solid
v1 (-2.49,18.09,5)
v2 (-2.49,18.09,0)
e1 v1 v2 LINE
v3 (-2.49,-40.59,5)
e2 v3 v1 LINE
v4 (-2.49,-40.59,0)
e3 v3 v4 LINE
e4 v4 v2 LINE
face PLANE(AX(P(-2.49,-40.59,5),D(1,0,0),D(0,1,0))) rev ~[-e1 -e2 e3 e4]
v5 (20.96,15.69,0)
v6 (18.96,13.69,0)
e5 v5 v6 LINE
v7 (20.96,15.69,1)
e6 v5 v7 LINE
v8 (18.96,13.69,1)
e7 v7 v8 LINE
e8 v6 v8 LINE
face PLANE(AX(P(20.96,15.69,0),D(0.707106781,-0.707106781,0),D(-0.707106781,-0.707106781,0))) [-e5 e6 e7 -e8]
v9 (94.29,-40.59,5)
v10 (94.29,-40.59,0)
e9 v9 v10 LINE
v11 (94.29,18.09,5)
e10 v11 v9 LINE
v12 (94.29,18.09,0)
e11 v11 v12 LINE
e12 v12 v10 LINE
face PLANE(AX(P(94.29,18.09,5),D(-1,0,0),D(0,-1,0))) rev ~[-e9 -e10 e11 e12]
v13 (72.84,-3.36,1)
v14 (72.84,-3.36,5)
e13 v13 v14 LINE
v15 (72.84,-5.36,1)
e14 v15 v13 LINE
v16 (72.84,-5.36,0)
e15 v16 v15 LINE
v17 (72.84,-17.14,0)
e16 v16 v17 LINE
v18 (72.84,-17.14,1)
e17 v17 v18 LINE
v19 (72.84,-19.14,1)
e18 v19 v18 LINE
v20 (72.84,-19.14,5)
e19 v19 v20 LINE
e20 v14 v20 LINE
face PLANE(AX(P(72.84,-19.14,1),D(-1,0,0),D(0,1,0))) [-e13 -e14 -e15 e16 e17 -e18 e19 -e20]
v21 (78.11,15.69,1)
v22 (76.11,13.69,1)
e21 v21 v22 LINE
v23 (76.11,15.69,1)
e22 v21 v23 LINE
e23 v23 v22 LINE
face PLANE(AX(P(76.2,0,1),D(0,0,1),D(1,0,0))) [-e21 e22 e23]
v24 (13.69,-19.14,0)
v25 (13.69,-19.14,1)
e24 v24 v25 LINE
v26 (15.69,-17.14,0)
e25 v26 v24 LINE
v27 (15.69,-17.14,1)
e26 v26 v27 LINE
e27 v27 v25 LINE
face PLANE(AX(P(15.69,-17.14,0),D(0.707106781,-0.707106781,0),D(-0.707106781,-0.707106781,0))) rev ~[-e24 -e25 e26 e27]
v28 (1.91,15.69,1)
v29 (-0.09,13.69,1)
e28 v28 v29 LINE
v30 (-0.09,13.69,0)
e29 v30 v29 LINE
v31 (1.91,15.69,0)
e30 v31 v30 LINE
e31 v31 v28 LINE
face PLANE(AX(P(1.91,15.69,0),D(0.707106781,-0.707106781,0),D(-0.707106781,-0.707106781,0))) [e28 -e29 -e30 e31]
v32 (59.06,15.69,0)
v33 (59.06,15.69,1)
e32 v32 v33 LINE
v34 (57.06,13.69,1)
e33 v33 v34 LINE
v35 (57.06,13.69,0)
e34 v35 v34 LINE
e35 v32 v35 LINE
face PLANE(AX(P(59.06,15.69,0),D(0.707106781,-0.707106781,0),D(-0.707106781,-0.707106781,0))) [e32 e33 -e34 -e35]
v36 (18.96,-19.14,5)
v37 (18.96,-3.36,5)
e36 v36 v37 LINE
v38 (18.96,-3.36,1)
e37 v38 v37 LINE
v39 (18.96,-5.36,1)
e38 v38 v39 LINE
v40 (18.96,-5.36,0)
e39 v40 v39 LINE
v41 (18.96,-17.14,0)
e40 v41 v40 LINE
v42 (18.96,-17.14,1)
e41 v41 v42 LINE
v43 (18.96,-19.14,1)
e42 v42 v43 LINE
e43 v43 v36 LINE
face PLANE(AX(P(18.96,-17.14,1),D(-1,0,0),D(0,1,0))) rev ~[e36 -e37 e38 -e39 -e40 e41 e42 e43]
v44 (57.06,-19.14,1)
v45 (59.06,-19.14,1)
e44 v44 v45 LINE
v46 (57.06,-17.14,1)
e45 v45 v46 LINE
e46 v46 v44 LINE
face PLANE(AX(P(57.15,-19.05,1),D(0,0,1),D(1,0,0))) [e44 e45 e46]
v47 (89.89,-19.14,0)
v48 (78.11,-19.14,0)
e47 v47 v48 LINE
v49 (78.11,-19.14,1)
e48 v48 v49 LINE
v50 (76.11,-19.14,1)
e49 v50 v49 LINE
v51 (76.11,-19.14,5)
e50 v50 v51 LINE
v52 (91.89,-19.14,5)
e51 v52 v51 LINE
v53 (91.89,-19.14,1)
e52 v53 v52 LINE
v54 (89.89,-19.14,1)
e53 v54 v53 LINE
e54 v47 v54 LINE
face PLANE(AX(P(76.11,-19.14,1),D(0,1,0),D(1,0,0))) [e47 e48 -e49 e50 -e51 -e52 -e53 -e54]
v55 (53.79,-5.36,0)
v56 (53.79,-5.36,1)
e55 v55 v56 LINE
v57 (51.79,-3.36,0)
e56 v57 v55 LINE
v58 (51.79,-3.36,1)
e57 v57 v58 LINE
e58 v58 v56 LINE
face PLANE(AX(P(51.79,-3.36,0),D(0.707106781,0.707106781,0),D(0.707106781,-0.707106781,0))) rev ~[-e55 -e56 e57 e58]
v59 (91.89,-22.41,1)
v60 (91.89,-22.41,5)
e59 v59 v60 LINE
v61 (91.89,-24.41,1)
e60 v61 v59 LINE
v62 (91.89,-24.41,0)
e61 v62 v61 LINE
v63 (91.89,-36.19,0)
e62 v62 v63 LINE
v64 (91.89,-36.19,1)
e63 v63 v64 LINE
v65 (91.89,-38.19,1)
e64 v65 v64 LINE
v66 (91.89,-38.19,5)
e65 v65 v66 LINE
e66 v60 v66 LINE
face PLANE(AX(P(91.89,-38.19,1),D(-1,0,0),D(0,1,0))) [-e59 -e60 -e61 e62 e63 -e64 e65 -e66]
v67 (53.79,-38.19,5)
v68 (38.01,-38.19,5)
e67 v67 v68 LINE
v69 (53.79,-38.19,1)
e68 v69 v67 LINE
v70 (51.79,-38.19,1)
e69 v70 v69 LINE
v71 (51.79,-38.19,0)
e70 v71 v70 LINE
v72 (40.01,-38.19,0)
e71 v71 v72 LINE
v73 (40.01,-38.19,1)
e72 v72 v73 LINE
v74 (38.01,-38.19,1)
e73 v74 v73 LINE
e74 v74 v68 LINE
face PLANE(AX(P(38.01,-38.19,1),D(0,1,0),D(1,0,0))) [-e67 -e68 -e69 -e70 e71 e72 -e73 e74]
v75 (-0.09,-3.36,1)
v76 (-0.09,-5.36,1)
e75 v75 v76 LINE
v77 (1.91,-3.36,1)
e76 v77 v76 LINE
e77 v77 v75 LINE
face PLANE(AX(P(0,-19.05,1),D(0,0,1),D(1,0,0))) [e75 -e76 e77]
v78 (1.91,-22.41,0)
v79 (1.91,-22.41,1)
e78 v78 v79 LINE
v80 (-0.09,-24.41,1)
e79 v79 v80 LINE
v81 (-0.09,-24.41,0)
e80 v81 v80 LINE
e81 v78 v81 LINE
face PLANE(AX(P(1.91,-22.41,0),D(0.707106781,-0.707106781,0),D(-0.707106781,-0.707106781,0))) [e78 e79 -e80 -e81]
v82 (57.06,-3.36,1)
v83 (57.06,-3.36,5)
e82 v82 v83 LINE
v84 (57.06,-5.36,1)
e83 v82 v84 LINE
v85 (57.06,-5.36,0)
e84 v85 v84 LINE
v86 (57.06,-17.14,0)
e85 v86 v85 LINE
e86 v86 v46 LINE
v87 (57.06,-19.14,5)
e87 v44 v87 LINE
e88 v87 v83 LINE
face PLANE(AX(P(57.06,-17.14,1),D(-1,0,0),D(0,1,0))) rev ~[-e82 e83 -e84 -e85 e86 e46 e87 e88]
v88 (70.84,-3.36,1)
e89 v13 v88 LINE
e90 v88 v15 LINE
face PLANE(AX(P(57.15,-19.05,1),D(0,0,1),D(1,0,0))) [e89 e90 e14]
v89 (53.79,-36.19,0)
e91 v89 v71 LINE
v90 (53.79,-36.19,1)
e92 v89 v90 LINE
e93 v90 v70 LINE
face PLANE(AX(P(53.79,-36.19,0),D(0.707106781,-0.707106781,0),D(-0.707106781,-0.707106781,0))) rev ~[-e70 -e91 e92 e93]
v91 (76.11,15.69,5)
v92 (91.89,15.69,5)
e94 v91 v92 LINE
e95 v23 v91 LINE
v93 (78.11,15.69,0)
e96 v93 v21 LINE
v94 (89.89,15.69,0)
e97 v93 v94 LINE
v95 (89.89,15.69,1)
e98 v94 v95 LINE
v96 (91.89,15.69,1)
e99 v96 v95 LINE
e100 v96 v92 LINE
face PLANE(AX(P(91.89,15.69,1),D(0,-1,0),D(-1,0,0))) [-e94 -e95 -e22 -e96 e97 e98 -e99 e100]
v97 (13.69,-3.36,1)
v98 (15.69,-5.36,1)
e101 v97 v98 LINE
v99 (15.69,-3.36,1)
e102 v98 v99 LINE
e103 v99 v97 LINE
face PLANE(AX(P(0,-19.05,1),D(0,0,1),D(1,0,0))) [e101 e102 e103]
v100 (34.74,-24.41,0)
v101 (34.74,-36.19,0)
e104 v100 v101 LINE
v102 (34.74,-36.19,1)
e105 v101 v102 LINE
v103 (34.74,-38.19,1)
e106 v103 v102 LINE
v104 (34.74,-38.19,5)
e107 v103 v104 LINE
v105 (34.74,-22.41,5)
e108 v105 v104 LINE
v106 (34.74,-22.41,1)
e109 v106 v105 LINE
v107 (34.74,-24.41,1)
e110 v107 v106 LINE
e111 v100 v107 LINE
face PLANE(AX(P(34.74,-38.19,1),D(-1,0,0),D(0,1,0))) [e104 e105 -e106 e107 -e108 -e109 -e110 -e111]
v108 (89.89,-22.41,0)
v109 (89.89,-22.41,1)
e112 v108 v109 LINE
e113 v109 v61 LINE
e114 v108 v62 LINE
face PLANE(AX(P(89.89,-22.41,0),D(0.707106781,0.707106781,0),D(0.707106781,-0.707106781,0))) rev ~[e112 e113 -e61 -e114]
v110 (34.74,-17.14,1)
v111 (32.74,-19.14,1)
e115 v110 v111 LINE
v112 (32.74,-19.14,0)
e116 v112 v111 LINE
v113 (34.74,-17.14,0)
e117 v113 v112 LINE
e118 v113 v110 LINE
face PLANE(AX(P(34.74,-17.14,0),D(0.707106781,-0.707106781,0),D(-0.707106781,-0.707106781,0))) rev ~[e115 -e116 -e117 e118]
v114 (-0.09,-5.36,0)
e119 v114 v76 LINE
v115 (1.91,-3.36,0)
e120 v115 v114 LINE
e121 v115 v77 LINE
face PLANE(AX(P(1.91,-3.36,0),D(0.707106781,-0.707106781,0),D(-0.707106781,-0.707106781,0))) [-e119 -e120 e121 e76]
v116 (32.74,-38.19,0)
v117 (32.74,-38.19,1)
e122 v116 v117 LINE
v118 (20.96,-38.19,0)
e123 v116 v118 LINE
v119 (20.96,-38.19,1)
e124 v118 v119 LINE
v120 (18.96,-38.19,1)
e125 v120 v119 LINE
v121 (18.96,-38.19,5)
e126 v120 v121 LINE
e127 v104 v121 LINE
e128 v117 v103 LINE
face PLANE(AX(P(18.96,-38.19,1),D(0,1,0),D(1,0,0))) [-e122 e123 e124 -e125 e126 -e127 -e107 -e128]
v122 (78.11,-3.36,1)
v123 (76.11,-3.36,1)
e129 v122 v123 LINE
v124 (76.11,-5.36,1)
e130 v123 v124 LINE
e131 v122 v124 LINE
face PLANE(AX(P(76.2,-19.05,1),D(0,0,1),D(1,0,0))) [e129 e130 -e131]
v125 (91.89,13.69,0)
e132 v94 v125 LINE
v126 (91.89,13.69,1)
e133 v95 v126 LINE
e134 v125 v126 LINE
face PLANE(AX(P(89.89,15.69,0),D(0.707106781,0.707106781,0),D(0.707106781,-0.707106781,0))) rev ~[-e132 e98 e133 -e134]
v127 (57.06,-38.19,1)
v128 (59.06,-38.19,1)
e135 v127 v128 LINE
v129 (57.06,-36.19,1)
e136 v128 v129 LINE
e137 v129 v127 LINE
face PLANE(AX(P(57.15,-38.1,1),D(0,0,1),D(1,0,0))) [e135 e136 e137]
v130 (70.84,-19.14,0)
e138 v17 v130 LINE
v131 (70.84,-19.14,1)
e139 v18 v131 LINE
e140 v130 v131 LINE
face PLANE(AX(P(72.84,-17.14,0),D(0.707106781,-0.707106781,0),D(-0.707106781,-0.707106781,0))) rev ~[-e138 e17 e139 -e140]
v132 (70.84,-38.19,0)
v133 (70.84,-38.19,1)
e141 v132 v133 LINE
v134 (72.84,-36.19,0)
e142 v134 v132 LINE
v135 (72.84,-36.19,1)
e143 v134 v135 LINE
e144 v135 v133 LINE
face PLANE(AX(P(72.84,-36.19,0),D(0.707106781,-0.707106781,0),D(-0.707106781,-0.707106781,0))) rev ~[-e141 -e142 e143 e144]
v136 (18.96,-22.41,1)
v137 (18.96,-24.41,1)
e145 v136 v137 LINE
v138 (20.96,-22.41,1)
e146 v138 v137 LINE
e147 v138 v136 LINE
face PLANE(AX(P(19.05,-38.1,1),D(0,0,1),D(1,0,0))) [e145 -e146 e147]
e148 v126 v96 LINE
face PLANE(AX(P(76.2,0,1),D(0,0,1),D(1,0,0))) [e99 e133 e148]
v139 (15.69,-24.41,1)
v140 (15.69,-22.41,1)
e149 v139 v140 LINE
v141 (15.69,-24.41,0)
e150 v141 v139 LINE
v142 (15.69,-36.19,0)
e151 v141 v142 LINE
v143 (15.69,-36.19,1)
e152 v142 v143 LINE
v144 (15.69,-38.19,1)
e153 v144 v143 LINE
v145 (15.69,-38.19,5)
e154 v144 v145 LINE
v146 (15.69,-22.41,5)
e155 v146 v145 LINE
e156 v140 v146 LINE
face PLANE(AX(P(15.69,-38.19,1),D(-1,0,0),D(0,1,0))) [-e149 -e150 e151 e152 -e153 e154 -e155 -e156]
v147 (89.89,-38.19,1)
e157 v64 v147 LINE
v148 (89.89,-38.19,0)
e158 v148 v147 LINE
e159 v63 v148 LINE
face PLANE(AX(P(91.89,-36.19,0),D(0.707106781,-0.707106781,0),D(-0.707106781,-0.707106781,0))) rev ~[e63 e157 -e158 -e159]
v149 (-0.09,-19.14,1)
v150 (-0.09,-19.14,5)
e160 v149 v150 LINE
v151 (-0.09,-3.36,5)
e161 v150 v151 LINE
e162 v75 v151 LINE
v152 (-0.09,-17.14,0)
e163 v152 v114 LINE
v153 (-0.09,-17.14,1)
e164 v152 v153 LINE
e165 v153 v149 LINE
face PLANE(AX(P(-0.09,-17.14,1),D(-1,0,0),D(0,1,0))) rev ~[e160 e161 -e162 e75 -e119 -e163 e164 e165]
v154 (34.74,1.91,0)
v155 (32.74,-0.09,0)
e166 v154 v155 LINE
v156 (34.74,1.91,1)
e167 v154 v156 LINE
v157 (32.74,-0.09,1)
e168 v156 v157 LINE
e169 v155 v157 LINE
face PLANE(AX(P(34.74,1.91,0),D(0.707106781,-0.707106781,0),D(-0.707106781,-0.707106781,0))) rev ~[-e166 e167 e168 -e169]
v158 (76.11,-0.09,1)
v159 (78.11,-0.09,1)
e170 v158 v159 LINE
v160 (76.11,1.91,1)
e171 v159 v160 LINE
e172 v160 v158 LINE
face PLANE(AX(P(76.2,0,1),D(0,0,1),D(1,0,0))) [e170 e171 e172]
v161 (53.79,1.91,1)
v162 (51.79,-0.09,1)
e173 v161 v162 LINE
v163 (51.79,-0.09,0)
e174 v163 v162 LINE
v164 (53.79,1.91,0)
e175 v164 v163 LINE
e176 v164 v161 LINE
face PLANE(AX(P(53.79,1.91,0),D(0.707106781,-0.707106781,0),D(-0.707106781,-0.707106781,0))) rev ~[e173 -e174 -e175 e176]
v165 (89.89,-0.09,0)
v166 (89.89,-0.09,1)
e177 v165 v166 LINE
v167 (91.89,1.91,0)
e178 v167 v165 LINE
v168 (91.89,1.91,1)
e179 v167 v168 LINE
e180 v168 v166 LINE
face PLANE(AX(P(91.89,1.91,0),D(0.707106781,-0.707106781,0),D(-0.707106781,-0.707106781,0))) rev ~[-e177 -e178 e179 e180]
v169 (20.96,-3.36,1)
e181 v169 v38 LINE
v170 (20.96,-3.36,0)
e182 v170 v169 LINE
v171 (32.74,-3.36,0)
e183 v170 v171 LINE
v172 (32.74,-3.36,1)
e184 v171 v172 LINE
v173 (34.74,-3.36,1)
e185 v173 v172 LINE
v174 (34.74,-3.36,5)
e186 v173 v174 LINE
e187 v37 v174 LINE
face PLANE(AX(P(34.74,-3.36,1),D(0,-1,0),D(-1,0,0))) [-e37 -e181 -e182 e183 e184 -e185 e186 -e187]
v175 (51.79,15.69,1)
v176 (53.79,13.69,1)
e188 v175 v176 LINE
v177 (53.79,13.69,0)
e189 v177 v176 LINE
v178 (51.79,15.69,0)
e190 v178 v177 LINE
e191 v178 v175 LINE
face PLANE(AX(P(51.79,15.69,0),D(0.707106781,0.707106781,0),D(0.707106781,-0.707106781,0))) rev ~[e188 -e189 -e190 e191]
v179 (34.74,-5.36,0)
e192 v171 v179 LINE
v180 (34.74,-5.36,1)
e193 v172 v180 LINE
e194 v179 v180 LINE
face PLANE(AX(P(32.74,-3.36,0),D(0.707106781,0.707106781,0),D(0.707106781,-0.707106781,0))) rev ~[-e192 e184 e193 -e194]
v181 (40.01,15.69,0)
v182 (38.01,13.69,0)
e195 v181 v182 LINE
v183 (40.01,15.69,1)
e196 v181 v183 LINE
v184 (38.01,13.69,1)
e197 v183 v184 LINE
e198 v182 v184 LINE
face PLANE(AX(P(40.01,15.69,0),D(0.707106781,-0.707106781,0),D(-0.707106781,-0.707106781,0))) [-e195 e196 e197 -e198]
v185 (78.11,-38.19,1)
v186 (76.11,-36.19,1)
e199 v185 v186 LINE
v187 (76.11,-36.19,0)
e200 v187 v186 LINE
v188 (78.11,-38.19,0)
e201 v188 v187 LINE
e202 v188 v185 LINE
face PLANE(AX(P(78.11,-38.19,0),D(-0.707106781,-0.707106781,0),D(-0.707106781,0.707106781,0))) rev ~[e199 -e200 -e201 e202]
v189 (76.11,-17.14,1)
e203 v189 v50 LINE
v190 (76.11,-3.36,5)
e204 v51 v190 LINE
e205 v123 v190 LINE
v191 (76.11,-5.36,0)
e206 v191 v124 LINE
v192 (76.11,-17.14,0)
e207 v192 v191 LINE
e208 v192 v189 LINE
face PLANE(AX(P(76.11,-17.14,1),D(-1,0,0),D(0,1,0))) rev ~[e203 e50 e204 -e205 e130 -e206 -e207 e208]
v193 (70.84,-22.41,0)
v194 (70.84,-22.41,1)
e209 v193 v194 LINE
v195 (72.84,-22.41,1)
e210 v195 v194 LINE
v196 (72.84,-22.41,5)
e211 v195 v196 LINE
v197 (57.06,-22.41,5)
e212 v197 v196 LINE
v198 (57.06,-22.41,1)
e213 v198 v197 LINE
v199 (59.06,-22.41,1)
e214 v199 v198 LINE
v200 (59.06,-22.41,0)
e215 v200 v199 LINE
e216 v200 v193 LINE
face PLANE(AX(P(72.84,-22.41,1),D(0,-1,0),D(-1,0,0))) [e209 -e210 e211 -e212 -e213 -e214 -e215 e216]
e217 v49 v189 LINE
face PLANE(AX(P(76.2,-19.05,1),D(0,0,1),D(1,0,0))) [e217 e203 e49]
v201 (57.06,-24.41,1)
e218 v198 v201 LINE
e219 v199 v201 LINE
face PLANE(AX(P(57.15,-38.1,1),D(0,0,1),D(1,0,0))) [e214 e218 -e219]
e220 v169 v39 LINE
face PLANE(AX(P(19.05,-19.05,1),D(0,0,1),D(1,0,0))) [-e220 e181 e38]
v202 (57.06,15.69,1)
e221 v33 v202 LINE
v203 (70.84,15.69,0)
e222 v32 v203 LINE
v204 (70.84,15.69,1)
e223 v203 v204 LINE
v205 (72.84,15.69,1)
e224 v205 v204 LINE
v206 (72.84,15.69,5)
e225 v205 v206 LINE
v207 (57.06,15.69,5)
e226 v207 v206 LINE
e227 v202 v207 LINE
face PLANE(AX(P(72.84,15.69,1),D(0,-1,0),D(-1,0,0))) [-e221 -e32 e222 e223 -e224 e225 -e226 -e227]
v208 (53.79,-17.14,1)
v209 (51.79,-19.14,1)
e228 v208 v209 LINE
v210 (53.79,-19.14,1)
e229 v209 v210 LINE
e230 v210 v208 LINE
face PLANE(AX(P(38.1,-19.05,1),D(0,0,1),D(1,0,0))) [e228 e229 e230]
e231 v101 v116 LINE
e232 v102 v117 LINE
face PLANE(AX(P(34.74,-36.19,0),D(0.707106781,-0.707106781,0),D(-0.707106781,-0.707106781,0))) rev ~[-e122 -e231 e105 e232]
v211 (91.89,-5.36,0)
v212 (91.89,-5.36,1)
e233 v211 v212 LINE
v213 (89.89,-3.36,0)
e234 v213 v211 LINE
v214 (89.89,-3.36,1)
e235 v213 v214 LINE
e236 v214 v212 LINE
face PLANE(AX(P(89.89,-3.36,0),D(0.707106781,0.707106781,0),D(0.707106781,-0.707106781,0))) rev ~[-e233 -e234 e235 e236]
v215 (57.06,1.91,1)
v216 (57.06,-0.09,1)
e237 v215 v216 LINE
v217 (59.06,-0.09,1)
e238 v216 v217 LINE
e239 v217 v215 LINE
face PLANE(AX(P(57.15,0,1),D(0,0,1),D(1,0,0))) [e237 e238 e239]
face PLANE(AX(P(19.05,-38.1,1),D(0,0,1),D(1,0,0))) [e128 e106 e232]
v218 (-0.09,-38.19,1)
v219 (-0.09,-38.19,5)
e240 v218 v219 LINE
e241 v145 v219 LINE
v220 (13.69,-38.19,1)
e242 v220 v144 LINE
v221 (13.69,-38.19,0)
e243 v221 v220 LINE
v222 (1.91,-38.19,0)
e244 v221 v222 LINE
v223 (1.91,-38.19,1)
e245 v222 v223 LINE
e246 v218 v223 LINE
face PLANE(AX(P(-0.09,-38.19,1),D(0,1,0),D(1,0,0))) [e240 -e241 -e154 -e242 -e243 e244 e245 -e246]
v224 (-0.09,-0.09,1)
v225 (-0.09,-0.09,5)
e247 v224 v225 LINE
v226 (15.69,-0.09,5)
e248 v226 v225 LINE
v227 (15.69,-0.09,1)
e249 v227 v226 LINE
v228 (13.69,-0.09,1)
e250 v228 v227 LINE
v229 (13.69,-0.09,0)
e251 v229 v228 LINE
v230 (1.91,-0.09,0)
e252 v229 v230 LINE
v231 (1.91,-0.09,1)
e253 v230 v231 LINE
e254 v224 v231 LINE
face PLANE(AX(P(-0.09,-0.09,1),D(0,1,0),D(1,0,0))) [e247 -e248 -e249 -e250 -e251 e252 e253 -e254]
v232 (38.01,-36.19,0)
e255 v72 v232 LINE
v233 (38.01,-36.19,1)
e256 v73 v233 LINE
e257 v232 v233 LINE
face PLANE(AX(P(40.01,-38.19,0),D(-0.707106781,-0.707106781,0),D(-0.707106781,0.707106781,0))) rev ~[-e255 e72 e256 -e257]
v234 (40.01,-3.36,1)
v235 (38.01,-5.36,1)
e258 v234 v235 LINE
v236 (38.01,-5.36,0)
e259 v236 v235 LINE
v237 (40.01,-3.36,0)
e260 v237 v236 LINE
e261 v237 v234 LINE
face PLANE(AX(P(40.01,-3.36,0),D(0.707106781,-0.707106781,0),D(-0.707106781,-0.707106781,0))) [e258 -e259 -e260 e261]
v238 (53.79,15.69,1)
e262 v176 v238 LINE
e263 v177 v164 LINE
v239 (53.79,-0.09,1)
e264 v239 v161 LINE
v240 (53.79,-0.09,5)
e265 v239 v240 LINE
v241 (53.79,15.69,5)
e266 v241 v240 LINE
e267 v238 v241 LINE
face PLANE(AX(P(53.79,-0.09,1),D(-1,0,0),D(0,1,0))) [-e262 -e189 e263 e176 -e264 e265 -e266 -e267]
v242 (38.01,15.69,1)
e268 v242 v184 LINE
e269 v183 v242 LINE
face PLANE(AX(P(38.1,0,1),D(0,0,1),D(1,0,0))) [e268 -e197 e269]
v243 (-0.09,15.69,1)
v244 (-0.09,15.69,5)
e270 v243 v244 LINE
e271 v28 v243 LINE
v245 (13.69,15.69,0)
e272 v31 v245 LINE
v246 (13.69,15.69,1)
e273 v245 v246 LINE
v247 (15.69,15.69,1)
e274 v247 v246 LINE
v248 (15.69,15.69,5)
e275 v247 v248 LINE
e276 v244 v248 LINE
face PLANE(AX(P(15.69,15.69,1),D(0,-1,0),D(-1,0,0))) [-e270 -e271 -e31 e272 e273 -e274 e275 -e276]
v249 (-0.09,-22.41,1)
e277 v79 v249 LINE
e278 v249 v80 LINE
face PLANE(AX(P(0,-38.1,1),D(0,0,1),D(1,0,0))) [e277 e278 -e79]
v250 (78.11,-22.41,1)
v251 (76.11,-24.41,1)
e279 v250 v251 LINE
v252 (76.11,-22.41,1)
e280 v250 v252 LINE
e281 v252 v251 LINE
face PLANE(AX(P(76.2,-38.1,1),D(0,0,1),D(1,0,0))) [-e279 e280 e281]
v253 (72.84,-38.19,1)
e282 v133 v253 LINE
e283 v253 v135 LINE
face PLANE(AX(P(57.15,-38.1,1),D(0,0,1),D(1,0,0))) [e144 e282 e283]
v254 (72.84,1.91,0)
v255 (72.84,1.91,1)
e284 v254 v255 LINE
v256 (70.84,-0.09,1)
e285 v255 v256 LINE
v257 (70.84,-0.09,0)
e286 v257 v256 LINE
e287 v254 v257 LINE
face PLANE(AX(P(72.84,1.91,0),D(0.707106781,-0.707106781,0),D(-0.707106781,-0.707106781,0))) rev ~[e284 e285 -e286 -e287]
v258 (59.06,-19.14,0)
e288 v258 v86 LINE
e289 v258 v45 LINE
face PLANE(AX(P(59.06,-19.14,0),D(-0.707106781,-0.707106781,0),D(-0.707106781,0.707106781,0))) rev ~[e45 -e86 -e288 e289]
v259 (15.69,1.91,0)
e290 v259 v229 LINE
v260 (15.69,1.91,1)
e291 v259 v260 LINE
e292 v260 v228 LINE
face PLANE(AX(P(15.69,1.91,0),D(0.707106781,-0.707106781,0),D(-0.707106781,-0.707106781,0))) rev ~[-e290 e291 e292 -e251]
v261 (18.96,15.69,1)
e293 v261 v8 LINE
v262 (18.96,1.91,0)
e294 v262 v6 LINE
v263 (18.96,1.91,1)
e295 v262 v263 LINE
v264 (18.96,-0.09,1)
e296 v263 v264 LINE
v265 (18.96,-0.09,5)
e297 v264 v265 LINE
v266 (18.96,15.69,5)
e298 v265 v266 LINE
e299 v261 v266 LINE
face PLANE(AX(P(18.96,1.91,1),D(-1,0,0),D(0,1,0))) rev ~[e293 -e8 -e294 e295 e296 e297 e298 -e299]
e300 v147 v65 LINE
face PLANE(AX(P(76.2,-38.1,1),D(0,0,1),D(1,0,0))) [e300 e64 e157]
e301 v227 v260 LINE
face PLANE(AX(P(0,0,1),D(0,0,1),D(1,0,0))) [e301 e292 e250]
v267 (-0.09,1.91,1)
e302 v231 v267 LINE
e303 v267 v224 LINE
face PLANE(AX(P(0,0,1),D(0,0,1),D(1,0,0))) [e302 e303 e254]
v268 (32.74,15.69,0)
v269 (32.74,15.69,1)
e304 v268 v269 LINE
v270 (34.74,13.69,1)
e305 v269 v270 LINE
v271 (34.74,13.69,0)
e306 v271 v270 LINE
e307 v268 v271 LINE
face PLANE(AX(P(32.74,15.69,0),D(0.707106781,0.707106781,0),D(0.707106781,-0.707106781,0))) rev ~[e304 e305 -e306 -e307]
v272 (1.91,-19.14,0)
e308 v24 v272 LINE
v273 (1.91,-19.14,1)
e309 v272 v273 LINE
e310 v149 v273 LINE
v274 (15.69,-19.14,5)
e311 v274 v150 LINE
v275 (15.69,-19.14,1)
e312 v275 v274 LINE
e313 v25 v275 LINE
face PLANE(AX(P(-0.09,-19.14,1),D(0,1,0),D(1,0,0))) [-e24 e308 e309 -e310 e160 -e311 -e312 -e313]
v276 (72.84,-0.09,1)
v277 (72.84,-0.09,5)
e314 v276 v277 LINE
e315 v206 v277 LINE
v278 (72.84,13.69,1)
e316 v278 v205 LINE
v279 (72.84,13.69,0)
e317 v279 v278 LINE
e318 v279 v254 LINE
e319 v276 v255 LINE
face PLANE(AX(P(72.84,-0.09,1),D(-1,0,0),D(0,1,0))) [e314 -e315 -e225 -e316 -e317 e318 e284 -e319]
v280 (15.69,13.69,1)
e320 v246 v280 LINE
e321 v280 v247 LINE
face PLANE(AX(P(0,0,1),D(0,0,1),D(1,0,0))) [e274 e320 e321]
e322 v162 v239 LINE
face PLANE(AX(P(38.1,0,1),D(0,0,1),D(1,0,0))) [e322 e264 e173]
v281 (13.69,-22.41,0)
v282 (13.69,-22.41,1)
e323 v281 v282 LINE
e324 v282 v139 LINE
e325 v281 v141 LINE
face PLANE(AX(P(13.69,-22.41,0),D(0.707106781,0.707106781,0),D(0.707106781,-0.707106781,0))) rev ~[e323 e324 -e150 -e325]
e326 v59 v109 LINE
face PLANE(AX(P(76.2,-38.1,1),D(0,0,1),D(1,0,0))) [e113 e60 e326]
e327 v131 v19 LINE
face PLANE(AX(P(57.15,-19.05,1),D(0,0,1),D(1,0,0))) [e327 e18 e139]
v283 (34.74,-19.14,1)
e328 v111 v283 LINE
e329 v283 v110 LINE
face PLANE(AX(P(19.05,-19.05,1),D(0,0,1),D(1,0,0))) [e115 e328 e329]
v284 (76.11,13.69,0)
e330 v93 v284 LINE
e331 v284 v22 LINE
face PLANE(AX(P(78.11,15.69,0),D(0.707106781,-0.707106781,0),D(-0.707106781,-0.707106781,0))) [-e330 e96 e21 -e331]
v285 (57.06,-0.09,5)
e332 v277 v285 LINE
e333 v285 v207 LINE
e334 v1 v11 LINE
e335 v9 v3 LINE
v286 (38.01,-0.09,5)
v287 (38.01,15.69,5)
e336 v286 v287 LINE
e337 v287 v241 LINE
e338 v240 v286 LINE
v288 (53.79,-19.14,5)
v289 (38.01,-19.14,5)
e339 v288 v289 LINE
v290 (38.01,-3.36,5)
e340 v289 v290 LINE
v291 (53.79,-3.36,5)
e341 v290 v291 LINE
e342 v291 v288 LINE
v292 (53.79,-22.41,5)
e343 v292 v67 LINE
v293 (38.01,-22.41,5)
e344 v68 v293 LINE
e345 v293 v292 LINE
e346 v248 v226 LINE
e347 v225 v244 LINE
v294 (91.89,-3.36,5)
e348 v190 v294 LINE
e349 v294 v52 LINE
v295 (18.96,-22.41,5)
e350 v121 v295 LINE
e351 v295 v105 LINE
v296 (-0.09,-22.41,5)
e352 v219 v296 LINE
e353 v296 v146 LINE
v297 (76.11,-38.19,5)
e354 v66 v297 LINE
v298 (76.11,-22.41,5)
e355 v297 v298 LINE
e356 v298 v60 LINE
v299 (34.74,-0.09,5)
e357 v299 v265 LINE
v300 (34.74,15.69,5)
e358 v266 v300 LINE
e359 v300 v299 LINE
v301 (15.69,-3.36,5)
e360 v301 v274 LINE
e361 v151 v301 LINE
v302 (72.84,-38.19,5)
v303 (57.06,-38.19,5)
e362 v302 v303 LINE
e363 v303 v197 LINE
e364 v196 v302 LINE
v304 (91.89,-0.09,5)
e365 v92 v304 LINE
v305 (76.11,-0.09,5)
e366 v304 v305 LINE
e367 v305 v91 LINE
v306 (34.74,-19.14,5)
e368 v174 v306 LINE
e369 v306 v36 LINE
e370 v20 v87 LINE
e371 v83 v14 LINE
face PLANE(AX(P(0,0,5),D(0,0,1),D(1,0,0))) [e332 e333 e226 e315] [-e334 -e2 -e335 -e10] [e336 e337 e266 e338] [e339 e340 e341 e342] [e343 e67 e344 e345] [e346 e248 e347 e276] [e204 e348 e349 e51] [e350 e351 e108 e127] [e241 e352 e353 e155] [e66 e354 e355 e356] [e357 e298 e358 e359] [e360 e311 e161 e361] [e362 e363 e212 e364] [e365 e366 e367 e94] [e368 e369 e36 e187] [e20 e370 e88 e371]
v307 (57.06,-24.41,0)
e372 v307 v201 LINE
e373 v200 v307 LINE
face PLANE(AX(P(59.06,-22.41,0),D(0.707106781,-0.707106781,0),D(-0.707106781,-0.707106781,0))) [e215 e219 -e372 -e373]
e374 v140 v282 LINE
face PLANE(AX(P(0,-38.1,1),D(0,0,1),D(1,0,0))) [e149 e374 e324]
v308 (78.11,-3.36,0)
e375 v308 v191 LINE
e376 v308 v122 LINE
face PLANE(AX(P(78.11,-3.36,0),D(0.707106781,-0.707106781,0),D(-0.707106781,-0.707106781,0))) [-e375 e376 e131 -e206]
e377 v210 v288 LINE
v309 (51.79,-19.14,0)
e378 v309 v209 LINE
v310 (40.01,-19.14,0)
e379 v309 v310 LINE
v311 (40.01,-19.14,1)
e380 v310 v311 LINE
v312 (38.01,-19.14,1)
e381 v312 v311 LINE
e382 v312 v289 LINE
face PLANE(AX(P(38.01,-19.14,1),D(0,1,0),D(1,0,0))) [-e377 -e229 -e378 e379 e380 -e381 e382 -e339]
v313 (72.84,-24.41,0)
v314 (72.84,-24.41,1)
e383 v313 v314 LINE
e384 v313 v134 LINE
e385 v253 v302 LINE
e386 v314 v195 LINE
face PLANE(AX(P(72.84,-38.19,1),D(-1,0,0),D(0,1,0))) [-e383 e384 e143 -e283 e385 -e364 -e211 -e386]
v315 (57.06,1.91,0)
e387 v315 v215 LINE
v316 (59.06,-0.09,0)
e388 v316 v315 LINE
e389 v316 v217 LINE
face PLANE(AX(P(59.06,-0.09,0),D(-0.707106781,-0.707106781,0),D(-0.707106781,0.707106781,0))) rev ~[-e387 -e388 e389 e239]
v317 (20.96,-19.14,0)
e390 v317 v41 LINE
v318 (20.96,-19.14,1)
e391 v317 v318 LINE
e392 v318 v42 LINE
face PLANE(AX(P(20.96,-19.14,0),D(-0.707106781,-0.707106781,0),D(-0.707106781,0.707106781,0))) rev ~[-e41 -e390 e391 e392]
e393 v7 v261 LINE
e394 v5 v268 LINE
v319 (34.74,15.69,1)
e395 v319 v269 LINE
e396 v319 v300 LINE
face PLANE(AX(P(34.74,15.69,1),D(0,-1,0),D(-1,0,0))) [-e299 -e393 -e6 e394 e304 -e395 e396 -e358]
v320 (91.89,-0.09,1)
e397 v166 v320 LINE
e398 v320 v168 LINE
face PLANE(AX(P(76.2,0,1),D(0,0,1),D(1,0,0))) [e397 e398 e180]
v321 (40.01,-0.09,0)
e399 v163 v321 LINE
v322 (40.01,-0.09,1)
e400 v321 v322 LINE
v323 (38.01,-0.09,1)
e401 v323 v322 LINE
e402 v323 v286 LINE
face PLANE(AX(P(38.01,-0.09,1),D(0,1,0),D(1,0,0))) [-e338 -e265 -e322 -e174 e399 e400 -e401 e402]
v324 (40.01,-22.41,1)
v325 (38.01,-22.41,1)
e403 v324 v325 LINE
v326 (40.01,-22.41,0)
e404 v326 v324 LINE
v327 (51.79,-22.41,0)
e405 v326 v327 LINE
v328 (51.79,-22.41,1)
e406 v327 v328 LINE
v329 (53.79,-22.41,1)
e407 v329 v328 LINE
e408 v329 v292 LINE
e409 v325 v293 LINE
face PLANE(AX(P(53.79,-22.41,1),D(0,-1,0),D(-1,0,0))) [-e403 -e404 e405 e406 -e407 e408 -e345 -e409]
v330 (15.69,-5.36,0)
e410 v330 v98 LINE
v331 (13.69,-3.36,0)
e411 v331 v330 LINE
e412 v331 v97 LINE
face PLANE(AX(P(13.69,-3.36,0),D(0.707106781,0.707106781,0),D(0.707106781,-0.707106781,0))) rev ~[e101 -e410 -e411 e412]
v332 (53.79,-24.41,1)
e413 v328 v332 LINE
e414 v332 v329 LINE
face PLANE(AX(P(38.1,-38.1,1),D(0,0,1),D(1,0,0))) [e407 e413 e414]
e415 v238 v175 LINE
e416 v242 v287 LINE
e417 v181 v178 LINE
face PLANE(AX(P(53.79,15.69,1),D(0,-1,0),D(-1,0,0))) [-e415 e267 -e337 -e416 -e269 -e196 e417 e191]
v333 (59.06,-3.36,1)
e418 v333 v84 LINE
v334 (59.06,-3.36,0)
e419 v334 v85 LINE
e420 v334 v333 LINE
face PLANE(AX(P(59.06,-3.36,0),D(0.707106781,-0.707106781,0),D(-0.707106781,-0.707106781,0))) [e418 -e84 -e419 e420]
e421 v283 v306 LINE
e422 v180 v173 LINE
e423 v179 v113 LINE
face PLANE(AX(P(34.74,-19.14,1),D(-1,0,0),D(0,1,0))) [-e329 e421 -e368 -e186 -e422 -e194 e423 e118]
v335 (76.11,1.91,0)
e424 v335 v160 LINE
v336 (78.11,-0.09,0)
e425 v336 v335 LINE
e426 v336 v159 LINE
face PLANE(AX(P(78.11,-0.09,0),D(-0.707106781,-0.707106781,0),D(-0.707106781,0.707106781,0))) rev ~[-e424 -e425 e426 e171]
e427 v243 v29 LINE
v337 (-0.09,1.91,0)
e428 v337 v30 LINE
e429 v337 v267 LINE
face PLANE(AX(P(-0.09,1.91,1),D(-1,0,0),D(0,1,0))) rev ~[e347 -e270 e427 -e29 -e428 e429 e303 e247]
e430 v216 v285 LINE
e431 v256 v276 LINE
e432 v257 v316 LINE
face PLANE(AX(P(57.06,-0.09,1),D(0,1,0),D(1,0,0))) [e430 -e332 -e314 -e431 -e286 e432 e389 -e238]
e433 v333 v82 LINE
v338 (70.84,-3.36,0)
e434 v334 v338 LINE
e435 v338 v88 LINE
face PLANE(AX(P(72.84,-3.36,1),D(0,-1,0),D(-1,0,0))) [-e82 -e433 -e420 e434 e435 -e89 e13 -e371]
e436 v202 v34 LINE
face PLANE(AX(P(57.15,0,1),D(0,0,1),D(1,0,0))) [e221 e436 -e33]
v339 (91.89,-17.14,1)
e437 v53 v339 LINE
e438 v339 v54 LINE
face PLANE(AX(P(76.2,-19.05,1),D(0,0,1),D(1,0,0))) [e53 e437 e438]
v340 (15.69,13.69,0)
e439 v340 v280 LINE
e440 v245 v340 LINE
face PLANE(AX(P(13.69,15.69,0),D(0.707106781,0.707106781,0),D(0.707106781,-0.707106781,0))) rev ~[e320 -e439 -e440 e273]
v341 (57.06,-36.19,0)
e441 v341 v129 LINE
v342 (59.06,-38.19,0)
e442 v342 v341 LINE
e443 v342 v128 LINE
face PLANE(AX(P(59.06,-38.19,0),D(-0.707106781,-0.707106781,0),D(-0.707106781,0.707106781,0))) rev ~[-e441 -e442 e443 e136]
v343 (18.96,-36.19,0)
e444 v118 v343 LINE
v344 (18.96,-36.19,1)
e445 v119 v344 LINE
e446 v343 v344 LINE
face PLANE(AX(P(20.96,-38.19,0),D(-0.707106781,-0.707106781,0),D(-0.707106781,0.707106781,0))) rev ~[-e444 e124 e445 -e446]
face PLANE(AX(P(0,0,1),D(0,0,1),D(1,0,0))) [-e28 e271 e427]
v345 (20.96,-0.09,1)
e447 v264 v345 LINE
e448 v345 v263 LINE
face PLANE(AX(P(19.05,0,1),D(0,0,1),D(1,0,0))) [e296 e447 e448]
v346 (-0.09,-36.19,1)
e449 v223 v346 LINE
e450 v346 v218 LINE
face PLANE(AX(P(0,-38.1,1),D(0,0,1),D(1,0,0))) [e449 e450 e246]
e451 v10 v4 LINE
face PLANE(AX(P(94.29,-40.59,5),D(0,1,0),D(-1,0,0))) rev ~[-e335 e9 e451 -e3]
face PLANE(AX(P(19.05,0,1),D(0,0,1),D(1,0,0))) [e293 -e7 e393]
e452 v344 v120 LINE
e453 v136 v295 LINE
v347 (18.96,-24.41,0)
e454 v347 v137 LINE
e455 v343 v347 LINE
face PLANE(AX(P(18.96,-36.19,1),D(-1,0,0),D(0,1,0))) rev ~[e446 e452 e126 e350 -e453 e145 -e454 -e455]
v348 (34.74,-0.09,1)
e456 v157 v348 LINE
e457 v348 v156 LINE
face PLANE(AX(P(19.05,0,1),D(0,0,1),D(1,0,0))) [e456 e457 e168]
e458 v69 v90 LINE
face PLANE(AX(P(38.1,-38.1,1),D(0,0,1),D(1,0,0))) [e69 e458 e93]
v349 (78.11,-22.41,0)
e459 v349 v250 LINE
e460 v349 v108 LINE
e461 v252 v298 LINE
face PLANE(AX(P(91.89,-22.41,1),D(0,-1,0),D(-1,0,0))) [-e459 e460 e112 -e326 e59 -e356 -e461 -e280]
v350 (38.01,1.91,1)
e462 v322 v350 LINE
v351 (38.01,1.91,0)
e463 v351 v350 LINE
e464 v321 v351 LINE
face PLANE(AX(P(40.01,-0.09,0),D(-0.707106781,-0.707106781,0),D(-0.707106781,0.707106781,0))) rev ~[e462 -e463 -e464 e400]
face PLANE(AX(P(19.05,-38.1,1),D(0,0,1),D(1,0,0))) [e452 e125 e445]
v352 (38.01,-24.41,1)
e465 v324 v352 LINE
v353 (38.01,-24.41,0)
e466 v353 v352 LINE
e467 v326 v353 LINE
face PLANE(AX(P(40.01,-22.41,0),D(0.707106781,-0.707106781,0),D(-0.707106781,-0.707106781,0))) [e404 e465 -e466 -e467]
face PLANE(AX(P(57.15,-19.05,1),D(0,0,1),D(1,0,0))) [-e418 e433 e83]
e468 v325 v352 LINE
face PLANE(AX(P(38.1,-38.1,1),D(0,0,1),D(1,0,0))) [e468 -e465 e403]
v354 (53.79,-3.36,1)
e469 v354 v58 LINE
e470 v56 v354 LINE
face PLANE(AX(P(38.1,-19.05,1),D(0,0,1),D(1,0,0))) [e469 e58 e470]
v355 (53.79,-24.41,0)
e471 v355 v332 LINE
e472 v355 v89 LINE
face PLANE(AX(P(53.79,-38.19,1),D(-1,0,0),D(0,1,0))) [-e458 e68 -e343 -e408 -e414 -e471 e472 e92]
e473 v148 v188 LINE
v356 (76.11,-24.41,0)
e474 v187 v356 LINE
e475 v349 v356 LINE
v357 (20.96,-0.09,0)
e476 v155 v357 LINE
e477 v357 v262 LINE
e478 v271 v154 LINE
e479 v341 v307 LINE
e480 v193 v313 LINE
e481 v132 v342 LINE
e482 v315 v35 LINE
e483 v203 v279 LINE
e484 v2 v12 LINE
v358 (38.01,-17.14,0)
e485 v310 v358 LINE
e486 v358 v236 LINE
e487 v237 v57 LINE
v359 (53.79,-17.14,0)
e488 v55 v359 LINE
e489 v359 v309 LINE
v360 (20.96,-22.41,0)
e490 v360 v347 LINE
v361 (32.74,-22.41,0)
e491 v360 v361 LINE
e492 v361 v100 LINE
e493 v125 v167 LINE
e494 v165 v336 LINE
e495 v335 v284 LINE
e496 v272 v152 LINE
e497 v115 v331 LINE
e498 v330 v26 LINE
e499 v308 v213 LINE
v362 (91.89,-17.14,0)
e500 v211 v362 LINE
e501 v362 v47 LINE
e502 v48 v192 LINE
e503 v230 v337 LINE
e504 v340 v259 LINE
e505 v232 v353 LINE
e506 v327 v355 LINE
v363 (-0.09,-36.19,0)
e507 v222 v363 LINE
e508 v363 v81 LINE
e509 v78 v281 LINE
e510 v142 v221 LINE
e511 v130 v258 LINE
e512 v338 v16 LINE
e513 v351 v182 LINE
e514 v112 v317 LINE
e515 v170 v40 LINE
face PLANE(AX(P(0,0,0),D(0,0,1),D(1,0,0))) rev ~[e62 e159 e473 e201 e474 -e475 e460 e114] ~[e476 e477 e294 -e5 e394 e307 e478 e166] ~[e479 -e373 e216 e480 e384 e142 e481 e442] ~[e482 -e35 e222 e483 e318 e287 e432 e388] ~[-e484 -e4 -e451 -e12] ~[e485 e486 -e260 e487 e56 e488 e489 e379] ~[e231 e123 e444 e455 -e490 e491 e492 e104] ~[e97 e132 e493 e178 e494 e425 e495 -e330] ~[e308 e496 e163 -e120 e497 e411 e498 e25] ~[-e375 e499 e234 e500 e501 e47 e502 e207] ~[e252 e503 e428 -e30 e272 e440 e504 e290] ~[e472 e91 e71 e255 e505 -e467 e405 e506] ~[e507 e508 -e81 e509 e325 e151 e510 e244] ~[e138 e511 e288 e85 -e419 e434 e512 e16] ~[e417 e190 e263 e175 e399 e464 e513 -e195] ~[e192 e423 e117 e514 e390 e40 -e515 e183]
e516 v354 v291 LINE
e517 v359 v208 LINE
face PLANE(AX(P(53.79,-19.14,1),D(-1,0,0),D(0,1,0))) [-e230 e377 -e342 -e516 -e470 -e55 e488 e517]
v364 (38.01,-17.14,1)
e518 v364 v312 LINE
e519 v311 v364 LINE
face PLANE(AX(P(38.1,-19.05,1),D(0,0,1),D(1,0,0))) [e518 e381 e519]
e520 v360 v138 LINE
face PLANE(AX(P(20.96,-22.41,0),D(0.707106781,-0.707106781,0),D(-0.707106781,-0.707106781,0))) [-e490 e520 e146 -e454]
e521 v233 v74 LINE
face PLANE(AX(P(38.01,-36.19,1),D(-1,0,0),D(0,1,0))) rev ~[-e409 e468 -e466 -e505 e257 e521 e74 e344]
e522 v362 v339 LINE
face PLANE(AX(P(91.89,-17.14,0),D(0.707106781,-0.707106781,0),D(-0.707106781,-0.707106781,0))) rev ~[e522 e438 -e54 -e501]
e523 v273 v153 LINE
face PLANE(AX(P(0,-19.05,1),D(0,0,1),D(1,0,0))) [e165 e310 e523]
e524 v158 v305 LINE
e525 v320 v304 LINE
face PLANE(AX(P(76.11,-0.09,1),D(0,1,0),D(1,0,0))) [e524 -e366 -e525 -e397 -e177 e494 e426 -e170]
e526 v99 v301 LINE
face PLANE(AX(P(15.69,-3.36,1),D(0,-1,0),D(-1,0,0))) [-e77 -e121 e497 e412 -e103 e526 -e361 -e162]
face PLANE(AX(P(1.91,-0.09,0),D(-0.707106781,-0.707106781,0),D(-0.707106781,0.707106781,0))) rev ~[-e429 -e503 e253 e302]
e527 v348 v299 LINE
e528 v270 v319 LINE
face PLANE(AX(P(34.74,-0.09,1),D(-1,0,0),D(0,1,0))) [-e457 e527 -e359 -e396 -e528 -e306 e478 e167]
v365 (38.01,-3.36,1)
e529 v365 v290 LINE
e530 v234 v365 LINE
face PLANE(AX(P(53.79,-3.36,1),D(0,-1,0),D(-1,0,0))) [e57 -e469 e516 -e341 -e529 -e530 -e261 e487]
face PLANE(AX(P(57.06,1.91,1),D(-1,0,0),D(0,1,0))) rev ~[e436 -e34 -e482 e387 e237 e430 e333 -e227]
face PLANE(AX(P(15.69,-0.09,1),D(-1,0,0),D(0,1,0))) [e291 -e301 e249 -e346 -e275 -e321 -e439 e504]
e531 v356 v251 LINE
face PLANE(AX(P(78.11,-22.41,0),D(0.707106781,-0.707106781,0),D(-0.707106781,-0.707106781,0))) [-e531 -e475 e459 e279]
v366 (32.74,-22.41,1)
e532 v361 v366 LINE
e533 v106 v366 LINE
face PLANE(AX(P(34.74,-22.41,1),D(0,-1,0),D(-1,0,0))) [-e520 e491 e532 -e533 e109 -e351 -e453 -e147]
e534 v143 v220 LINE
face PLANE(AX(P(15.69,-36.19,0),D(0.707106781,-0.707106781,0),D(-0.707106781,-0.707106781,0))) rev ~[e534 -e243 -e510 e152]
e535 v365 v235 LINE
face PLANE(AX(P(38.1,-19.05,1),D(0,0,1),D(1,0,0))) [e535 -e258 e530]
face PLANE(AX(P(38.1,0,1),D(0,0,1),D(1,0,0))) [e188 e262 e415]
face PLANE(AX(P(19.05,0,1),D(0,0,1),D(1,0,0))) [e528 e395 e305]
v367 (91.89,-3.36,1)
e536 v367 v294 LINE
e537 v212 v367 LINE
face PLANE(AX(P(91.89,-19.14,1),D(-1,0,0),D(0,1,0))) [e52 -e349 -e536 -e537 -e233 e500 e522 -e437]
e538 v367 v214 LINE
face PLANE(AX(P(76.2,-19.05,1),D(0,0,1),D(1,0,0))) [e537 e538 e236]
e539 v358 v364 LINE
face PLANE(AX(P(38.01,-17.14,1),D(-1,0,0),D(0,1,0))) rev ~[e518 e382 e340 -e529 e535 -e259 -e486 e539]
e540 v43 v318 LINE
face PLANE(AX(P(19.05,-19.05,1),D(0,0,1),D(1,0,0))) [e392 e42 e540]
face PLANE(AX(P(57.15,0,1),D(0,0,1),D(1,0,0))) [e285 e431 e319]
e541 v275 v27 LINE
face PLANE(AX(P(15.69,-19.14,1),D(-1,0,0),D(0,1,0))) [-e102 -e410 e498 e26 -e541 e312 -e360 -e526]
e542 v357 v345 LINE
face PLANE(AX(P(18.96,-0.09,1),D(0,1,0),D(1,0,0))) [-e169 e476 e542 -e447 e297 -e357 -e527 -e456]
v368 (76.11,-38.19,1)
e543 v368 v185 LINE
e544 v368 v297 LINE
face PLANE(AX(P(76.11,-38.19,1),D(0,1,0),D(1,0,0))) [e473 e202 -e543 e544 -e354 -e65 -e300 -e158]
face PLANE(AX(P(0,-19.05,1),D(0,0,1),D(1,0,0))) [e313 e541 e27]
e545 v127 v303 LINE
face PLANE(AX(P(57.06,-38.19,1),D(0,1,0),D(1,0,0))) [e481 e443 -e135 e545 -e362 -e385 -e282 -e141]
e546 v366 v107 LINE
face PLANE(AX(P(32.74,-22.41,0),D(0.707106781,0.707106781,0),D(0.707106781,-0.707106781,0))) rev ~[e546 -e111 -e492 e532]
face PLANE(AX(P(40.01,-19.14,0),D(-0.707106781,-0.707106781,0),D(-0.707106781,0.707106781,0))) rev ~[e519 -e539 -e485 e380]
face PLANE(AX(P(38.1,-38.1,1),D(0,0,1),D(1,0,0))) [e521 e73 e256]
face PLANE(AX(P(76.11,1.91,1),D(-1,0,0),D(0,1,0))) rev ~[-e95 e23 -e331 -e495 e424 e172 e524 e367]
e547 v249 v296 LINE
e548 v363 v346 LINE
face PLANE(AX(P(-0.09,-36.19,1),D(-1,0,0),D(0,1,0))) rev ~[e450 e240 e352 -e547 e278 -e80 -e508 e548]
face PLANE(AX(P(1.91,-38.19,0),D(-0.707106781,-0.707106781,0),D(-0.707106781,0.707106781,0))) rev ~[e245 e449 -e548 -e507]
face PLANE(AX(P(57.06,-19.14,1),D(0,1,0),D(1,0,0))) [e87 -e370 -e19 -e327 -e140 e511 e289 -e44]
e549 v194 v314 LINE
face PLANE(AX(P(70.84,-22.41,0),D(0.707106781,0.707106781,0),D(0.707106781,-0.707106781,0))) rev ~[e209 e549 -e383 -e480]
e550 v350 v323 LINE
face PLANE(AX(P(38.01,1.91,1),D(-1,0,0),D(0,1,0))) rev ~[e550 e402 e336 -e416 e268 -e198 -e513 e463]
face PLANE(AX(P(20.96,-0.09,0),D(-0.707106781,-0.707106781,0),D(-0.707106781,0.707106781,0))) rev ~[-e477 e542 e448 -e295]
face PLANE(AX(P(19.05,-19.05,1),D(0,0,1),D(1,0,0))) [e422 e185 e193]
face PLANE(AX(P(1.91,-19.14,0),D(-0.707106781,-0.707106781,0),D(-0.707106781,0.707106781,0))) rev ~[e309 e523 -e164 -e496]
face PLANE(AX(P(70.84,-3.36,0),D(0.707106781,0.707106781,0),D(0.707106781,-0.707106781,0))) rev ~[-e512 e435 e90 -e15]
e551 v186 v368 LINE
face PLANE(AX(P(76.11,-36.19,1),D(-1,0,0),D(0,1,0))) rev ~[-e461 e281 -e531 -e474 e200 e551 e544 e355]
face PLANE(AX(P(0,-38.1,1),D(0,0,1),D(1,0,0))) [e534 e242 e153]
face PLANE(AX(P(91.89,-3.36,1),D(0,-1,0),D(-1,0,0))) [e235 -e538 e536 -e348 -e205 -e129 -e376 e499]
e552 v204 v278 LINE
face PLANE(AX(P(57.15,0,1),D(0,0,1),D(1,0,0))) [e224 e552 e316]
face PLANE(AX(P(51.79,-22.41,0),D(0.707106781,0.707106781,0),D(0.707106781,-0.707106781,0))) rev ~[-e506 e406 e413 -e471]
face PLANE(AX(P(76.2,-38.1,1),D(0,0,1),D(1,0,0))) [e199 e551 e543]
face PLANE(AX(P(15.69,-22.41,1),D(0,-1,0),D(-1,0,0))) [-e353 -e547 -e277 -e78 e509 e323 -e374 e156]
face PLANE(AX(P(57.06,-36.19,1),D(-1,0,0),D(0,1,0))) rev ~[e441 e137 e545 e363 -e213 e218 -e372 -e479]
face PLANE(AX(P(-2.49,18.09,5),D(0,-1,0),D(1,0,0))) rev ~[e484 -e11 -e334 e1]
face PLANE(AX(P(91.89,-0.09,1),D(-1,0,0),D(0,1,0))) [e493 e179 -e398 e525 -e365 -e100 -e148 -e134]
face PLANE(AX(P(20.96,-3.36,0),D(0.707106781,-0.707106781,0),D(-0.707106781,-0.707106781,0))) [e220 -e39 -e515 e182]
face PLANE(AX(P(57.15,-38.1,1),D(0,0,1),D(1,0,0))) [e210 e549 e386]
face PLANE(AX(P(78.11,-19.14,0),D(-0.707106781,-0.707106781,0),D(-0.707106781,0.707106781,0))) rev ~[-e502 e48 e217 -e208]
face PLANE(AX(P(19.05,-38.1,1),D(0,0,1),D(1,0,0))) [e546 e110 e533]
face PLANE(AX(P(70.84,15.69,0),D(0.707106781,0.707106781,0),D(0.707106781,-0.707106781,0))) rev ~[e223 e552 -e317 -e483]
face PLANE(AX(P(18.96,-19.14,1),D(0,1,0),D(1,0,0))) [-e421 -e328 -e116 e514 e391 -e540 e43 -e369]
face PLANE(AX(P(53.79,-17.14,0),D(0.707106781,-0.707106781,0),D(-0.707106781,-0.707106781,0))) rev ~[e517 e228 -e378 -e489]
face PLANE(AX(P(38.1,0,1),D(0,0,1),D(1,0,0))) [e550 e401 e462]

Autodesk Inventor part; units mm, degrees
ref_plane "YZ Plane" through (0, 0, 0) normal (1, 0, 0) x (0, 1, 0)
ref_plane "XZ Plane" through (0, 0, 0) normal (0, 1, 0) x (-1, 0, 0)
ref_plane "XY Plane" through (0, 0, 0) normal (0, 0, 1) x (1, 0, 0)
sketch "Skizze1" plane through (0, 0, 0) normal (0, 0, 1) x (1, 0, 0)
  line L0 (0, 0) -> (15.6, 0) construction
  line L1 (15.6, 0) -> (15.6, 15.6) construction
  line L2 (15.6, 15.6) -> (0, 15.6) construction
  line L3 (0, 15.6) -> (0, 0) construction
  line L4 (-0.09, 15.69) -> (15.69, 15.69)
  line L5 (15.69, 15.69) -> (15.69, -0.09)
  line L6 (15.69, -0.09) -> (-0.09, -0.09)
  line L7 (-0.09, -0.09) -> (-0.09, 15.69)
  line L8 (1.91, 15.69) -> (-0.09, 13.69)
  line L9 (13.69, 15.69) -> (15.69, 13.69)
  line L10 (15.69, 1.91) -> (13.69, -0.09)
  line L11 (1.91, -0.09) -> (-0.09, 1.91)
  line L12 (-0.09, -0.09) -> (15.69, 15.69) construction
  line L13 (15.69, -0.09) -> (-0.09, 15.69) construction
  line L14 (-1.725, 17.325) -> (17.325, 17.325)
  line L15 (17.325, 17.325) -> (17.325, -1.725)
  line L16 (17.325, -1.725) -> (-1.725, -1.725)
  line L17 (-1.725, -1.725) -> (-1.725, 17.325)
  point P0 (7.8, 7.8)
  point P1 (7.8, 7.8)
  dimension "d0" = 15.6
  dimension "d1" = 15.6
  dimension "d2" = 0.09
  dimension "d3" = 2
  dimension "d4" = 2
  dimension "d5" = 2
  dimension "d6" = 2
  dimension "d7" = 2
  dimension "d8" = 2
  dimension "d9" = 2
  dimension "d10" = 2
  dimension "d11" = 9.525
extrude "Extrusion1" add sketch "Skizze1" along normal blind 1 contours L4 L8 L7 | L4 L5 L9 | L11 L6 L7 | L5 L6 L10 | L14 L15 L16 L17
sketch "Skizze2" plane through (0, 0, 1) normal (0, 0, 1) x (1, 0, 0)
  line L0 (-1.725, -1.725) -> (17.325, -1.725) projected
  line L1 (17.325, -1.725) -> (17.325, 17.325) projected
  line L2 (17.325, 17.325) -> (-1.725, 17.325) projected
  line L3 (-1.725, 17.325) -> (-1.725, -1.725) projected
  line L4 (-0.09, 13.69) -> (1.91, 15.69) projected
  line L5 (1.91, 15.69) -> (13.69, 15.69) projected
  line L6 (13.69, 15.69) -> (15.69, 13.69) projected
  line L7 (15.69, 13.69) -> (15.69, 1.91) projected
  line L8 (15.69, 1.91) -> (13.69, -0.09) projected
  line L9 (13.69, -0.09) -> (1.91, -0.09) projected
  line L10 (1.91, -0.09) -> (-0.09, 1.91) projected
  line L11 (-0.09, 1.91) -> (-0.09, 13.69) projected
  line L12 (1.91, 15.69) -> (13.69, 15.69) projected
  line L13 (1.91, 15.69) -> (-0.09, 15.69)
  line L14 (-0.09, 15.69) -> (-0.09, 13.69)
  line L15 (-0.09, 1.91) -> (-0.09, 13.69) projected
  line L16 (-0.09, 1.91) -> (-0.09, -0.09)
  line L17 (-0.09, -0.09) -> (1.91, -0.09)
  line L18 (13.69, -0.09) -> (1.91, -0.09) projected
  line L19 (13.69, -0.09) -> (15.69, -0.09)
  line L20 (15.69, 1.91) -> (13.69, -0.09) projected
  line L21 (15.69, -0.09) -> (15.69, 1.91)
  line L22 (15.69, 13.69) -> (15.69, 1.91) projected
  line L23 (15.69, 13.69) -> (15.69, 15.69)
  line L24 (13.69, 15.69) -> (15.69, 13.69) projected
  line L25 (15.69, 15.69) -> (13.69, 15.69)
  point P0 (0, 0)
extrude "Extrusion2" add sketch "Skizze2" along normal blind 4
pattern_linear "Rechteckige Anordnung1" count 5 spacing 19.05 along (1, 0, 0) count 3 spacing 19.05 along (0, -1, 0)
sketch "Skizze3" plane through (0, 0, 5) normal (0, 0, 1) x (1, 0, 0)
  line L0 (93.525, 17.325) -> (-1.725, 17.325) projected
  line L1 (-1.725, 17.325) -> (-1.725, -39.825) projected
  line L2 (-0.09, 15.69) -> (15.69, 15.69) projected
  line L3 (15.69, 15.69) -> (15.69, -0.09) projected
  line L4 (15.69, -0.09) -> (-0.09, -0.09) projected
  line L5 (-0.09, -0.09) -> (-0.09, 15.69) projected
  line L6 (-1.725, -39.825) -> (93.525, -39.825) projected
  line L7 (93.525, -39.825) -> (93.525, 17.325) projected
  line L8 (18.96, 15.69) -> (34.74, 15.69) projected
  line L9 (34.74, 15.69) -> (34.74, -0.09) projected
  line L10 (34.74, -0.09) -> (18.96, -0.09) projected
  line L11 (18.96, -0.09) -> (18.96, 15.69) projected
  line L12 (38.01, 15.69) -> (53.79, 15.69) projected
  line L13 (53.79, 15.69) -> (53.79, -0.09) projected
  line L14 (53.79, -0.09) -> (38.01, -0.09) projected
  line L15 (38.01, -0.09) -> (38.01, 15.69) projected
  line L16 (57.06, 15.69) -> (72.84, 15.69) projected
  line L17 (72.84, 15.69) -> (72.84, -0.09) projected
  line L18 (72.84, -0.09) -> (57.06, -0.09) projected
  line L19 (57.06, -0.09) -> (57.06, 15.69) projected
  line L20 (76.11, 15.69) -> (91.89, 15.69) projected
  line L21 (91.89, 15.69) -> (91.89, -0.09) projected
  line L22 (91.89, -0.09) -> (76.11, -0.09) projected
  line L23 (76.11, -0.09) -> (76.11, 15.69) projected
  line L24 (18.96, -3.36) -> (34.74, -3.36) projected
  line L25 (34.74, -3.36) -> (34.74, -19.14) projected
  line L26 (34.74, -19.14) -> (18.96, -19.14) projected
  line L27 (18.96, -19.14) -> (18.96, -3.36) projected
  line L28 (-0.09, -3.36) -> (15.69, -3.36) projected
  line L29 (15.69, -3.36) -> (15.69, -19.14) projected
  line L30 (15.69, -19.14) -> (-0.09, -19.14) projected
  line L31 (-0.09, -19.14) -> (-0.09, -3.36) projected
  line L32 (38.01, -3.36) -> (53.79, -3.36) projected
  line L33 (53.79, -3.36) -> (53.79, -19.14) projected
  line L34 (53.79, -19.14) -> (38.01, -19.14) projected
  line L35 (38.01, -19.14) -> (38.01, -3.36) projected
  line L36 (57.06, -3.36) -> (72.84, -3.36) projected
  line L37 (72.84, -3.36) -> (72.84, -19.14) projected
  line L38 (72.84, -19.14) -> (57.06, -19.14) projected
  line L39 (57.06, -19.14) -> (57.06, -3.36) projected
  line L40 (76.11, -3.36) -> (91.89, -3.36) projected
  line L41 (91.89, -3.36) -> (91.89, -19.14) projected
  line L42 (91.89, -19.14) -> (76.11, -19.14) projected
  line L43 (76.11, -19.14) -> (76.11, -3.36) projected
  line L44 (-0.09, -22.41) -> (15.69, -22.41) projected
  line L45 (15.69, -22.41) -> (15.69, -38.19) projected
  line L46 (15.69, -38.19) -> (-0.09, -38.19) projected
  line L47 (-0.09, -38.19) -> (-0.09, -22.41) projected
  line L48 (18.96, -22.41) -> (34.74, -22.41) projected
  line L49 (34.74, -22.41) -> (34.74, -38.19) projected
  line L50 (34.74, -38.19) -> (18.96, -38.19) projected
  line L51 (18.96, -38.19) -> (18.96, -22.41) projected
  line L52 (38.01, -22.41) -> (53.79, -22.41) projected
  line L53 (53.79, -22.41) -> (53.79, -38.19) projected
  line L54 (53.79, -38.19) -> (38.01, -38.19) projected
  line L55 (38.01, -38.19) -> (38.01, -22.41) projected
  line L56 (57.06, -22.41) -> (72.84, -22.41) projected
  line L57 (72.84, -22.41) -> (72.84, -38.19) projected
  line L58 (72.84, -38.19) -> (57.06, -38.19) projected
  line L59 (57.06, -38.19) -> (57.06, -22.41) projected
  line L60 (76.11, -22.41) -> (91.89, -22.41) projected
  line L61 (91.89, -22.41) -> (91.89, -38.19) projected
  line L62 (91.89, -38.19) -> (76.11, -38.19) projected
  line L63 (76.11, -38.19) -> (76.11, -22.41) projected
  line L64 (93.525, 17.325) -> (-1.725, 17.325) projected
  line L65 (-1.725, 17.325) -> (-1.725, -39.825) projected
  line L66 (-1.725, -39.825) -> (93.525, -39.825) projected
  line L67 (93.525, -39.825) -> (93.525, 17.325) projected
  line L68 (-0.09, 15.69) -> (15.69, 15.69) projected
  line L69 (15.69, 15.69) -> (15.69, -0.09) projected
  line L70 (15.69, -0.09) -> (-0.09, -0.09) projected
  line L71 (-0.09, -0.09) -> (-0.09, 15.69) projected
  line L72 (-2.49, 18.09) -> (94.29, 18.09)
  line L73 (94.29, 18.09) -> (94.29, -40.59)
  line L74 (94.29, -40.59) -> (-2.49, -40.59)
  line L75 (-2.49, -40.59) -> (-2.49, 18.09)
  dimension "d26" = 0.765
extrude "Extrusion3" add sketch "Skizze3" against normal up to surface (5 mm away) contours L72 L73 L74 L75
equation "\"d1\" = d0"
equation "\"d2\" = clearance"
equation "\"d3\" = dLength"
equation "\"d4\" = dLength"
equation "\"d5\" = dLength"
equation "\"d6\" = dLength"
equation "\"d7\" = dLength"
equation "\"d8\" = dLength"
equation "\"d9\" = dLength"
equation "\"d10\" = dLength"
equation "\"d26\" = border"
equation "\"clearance\" = 0.09"
equation "\"dLength\" = 2"
equation "\"border\" = 0.765"
properties part number "Cherry_Switch_Alignment_Jig"
